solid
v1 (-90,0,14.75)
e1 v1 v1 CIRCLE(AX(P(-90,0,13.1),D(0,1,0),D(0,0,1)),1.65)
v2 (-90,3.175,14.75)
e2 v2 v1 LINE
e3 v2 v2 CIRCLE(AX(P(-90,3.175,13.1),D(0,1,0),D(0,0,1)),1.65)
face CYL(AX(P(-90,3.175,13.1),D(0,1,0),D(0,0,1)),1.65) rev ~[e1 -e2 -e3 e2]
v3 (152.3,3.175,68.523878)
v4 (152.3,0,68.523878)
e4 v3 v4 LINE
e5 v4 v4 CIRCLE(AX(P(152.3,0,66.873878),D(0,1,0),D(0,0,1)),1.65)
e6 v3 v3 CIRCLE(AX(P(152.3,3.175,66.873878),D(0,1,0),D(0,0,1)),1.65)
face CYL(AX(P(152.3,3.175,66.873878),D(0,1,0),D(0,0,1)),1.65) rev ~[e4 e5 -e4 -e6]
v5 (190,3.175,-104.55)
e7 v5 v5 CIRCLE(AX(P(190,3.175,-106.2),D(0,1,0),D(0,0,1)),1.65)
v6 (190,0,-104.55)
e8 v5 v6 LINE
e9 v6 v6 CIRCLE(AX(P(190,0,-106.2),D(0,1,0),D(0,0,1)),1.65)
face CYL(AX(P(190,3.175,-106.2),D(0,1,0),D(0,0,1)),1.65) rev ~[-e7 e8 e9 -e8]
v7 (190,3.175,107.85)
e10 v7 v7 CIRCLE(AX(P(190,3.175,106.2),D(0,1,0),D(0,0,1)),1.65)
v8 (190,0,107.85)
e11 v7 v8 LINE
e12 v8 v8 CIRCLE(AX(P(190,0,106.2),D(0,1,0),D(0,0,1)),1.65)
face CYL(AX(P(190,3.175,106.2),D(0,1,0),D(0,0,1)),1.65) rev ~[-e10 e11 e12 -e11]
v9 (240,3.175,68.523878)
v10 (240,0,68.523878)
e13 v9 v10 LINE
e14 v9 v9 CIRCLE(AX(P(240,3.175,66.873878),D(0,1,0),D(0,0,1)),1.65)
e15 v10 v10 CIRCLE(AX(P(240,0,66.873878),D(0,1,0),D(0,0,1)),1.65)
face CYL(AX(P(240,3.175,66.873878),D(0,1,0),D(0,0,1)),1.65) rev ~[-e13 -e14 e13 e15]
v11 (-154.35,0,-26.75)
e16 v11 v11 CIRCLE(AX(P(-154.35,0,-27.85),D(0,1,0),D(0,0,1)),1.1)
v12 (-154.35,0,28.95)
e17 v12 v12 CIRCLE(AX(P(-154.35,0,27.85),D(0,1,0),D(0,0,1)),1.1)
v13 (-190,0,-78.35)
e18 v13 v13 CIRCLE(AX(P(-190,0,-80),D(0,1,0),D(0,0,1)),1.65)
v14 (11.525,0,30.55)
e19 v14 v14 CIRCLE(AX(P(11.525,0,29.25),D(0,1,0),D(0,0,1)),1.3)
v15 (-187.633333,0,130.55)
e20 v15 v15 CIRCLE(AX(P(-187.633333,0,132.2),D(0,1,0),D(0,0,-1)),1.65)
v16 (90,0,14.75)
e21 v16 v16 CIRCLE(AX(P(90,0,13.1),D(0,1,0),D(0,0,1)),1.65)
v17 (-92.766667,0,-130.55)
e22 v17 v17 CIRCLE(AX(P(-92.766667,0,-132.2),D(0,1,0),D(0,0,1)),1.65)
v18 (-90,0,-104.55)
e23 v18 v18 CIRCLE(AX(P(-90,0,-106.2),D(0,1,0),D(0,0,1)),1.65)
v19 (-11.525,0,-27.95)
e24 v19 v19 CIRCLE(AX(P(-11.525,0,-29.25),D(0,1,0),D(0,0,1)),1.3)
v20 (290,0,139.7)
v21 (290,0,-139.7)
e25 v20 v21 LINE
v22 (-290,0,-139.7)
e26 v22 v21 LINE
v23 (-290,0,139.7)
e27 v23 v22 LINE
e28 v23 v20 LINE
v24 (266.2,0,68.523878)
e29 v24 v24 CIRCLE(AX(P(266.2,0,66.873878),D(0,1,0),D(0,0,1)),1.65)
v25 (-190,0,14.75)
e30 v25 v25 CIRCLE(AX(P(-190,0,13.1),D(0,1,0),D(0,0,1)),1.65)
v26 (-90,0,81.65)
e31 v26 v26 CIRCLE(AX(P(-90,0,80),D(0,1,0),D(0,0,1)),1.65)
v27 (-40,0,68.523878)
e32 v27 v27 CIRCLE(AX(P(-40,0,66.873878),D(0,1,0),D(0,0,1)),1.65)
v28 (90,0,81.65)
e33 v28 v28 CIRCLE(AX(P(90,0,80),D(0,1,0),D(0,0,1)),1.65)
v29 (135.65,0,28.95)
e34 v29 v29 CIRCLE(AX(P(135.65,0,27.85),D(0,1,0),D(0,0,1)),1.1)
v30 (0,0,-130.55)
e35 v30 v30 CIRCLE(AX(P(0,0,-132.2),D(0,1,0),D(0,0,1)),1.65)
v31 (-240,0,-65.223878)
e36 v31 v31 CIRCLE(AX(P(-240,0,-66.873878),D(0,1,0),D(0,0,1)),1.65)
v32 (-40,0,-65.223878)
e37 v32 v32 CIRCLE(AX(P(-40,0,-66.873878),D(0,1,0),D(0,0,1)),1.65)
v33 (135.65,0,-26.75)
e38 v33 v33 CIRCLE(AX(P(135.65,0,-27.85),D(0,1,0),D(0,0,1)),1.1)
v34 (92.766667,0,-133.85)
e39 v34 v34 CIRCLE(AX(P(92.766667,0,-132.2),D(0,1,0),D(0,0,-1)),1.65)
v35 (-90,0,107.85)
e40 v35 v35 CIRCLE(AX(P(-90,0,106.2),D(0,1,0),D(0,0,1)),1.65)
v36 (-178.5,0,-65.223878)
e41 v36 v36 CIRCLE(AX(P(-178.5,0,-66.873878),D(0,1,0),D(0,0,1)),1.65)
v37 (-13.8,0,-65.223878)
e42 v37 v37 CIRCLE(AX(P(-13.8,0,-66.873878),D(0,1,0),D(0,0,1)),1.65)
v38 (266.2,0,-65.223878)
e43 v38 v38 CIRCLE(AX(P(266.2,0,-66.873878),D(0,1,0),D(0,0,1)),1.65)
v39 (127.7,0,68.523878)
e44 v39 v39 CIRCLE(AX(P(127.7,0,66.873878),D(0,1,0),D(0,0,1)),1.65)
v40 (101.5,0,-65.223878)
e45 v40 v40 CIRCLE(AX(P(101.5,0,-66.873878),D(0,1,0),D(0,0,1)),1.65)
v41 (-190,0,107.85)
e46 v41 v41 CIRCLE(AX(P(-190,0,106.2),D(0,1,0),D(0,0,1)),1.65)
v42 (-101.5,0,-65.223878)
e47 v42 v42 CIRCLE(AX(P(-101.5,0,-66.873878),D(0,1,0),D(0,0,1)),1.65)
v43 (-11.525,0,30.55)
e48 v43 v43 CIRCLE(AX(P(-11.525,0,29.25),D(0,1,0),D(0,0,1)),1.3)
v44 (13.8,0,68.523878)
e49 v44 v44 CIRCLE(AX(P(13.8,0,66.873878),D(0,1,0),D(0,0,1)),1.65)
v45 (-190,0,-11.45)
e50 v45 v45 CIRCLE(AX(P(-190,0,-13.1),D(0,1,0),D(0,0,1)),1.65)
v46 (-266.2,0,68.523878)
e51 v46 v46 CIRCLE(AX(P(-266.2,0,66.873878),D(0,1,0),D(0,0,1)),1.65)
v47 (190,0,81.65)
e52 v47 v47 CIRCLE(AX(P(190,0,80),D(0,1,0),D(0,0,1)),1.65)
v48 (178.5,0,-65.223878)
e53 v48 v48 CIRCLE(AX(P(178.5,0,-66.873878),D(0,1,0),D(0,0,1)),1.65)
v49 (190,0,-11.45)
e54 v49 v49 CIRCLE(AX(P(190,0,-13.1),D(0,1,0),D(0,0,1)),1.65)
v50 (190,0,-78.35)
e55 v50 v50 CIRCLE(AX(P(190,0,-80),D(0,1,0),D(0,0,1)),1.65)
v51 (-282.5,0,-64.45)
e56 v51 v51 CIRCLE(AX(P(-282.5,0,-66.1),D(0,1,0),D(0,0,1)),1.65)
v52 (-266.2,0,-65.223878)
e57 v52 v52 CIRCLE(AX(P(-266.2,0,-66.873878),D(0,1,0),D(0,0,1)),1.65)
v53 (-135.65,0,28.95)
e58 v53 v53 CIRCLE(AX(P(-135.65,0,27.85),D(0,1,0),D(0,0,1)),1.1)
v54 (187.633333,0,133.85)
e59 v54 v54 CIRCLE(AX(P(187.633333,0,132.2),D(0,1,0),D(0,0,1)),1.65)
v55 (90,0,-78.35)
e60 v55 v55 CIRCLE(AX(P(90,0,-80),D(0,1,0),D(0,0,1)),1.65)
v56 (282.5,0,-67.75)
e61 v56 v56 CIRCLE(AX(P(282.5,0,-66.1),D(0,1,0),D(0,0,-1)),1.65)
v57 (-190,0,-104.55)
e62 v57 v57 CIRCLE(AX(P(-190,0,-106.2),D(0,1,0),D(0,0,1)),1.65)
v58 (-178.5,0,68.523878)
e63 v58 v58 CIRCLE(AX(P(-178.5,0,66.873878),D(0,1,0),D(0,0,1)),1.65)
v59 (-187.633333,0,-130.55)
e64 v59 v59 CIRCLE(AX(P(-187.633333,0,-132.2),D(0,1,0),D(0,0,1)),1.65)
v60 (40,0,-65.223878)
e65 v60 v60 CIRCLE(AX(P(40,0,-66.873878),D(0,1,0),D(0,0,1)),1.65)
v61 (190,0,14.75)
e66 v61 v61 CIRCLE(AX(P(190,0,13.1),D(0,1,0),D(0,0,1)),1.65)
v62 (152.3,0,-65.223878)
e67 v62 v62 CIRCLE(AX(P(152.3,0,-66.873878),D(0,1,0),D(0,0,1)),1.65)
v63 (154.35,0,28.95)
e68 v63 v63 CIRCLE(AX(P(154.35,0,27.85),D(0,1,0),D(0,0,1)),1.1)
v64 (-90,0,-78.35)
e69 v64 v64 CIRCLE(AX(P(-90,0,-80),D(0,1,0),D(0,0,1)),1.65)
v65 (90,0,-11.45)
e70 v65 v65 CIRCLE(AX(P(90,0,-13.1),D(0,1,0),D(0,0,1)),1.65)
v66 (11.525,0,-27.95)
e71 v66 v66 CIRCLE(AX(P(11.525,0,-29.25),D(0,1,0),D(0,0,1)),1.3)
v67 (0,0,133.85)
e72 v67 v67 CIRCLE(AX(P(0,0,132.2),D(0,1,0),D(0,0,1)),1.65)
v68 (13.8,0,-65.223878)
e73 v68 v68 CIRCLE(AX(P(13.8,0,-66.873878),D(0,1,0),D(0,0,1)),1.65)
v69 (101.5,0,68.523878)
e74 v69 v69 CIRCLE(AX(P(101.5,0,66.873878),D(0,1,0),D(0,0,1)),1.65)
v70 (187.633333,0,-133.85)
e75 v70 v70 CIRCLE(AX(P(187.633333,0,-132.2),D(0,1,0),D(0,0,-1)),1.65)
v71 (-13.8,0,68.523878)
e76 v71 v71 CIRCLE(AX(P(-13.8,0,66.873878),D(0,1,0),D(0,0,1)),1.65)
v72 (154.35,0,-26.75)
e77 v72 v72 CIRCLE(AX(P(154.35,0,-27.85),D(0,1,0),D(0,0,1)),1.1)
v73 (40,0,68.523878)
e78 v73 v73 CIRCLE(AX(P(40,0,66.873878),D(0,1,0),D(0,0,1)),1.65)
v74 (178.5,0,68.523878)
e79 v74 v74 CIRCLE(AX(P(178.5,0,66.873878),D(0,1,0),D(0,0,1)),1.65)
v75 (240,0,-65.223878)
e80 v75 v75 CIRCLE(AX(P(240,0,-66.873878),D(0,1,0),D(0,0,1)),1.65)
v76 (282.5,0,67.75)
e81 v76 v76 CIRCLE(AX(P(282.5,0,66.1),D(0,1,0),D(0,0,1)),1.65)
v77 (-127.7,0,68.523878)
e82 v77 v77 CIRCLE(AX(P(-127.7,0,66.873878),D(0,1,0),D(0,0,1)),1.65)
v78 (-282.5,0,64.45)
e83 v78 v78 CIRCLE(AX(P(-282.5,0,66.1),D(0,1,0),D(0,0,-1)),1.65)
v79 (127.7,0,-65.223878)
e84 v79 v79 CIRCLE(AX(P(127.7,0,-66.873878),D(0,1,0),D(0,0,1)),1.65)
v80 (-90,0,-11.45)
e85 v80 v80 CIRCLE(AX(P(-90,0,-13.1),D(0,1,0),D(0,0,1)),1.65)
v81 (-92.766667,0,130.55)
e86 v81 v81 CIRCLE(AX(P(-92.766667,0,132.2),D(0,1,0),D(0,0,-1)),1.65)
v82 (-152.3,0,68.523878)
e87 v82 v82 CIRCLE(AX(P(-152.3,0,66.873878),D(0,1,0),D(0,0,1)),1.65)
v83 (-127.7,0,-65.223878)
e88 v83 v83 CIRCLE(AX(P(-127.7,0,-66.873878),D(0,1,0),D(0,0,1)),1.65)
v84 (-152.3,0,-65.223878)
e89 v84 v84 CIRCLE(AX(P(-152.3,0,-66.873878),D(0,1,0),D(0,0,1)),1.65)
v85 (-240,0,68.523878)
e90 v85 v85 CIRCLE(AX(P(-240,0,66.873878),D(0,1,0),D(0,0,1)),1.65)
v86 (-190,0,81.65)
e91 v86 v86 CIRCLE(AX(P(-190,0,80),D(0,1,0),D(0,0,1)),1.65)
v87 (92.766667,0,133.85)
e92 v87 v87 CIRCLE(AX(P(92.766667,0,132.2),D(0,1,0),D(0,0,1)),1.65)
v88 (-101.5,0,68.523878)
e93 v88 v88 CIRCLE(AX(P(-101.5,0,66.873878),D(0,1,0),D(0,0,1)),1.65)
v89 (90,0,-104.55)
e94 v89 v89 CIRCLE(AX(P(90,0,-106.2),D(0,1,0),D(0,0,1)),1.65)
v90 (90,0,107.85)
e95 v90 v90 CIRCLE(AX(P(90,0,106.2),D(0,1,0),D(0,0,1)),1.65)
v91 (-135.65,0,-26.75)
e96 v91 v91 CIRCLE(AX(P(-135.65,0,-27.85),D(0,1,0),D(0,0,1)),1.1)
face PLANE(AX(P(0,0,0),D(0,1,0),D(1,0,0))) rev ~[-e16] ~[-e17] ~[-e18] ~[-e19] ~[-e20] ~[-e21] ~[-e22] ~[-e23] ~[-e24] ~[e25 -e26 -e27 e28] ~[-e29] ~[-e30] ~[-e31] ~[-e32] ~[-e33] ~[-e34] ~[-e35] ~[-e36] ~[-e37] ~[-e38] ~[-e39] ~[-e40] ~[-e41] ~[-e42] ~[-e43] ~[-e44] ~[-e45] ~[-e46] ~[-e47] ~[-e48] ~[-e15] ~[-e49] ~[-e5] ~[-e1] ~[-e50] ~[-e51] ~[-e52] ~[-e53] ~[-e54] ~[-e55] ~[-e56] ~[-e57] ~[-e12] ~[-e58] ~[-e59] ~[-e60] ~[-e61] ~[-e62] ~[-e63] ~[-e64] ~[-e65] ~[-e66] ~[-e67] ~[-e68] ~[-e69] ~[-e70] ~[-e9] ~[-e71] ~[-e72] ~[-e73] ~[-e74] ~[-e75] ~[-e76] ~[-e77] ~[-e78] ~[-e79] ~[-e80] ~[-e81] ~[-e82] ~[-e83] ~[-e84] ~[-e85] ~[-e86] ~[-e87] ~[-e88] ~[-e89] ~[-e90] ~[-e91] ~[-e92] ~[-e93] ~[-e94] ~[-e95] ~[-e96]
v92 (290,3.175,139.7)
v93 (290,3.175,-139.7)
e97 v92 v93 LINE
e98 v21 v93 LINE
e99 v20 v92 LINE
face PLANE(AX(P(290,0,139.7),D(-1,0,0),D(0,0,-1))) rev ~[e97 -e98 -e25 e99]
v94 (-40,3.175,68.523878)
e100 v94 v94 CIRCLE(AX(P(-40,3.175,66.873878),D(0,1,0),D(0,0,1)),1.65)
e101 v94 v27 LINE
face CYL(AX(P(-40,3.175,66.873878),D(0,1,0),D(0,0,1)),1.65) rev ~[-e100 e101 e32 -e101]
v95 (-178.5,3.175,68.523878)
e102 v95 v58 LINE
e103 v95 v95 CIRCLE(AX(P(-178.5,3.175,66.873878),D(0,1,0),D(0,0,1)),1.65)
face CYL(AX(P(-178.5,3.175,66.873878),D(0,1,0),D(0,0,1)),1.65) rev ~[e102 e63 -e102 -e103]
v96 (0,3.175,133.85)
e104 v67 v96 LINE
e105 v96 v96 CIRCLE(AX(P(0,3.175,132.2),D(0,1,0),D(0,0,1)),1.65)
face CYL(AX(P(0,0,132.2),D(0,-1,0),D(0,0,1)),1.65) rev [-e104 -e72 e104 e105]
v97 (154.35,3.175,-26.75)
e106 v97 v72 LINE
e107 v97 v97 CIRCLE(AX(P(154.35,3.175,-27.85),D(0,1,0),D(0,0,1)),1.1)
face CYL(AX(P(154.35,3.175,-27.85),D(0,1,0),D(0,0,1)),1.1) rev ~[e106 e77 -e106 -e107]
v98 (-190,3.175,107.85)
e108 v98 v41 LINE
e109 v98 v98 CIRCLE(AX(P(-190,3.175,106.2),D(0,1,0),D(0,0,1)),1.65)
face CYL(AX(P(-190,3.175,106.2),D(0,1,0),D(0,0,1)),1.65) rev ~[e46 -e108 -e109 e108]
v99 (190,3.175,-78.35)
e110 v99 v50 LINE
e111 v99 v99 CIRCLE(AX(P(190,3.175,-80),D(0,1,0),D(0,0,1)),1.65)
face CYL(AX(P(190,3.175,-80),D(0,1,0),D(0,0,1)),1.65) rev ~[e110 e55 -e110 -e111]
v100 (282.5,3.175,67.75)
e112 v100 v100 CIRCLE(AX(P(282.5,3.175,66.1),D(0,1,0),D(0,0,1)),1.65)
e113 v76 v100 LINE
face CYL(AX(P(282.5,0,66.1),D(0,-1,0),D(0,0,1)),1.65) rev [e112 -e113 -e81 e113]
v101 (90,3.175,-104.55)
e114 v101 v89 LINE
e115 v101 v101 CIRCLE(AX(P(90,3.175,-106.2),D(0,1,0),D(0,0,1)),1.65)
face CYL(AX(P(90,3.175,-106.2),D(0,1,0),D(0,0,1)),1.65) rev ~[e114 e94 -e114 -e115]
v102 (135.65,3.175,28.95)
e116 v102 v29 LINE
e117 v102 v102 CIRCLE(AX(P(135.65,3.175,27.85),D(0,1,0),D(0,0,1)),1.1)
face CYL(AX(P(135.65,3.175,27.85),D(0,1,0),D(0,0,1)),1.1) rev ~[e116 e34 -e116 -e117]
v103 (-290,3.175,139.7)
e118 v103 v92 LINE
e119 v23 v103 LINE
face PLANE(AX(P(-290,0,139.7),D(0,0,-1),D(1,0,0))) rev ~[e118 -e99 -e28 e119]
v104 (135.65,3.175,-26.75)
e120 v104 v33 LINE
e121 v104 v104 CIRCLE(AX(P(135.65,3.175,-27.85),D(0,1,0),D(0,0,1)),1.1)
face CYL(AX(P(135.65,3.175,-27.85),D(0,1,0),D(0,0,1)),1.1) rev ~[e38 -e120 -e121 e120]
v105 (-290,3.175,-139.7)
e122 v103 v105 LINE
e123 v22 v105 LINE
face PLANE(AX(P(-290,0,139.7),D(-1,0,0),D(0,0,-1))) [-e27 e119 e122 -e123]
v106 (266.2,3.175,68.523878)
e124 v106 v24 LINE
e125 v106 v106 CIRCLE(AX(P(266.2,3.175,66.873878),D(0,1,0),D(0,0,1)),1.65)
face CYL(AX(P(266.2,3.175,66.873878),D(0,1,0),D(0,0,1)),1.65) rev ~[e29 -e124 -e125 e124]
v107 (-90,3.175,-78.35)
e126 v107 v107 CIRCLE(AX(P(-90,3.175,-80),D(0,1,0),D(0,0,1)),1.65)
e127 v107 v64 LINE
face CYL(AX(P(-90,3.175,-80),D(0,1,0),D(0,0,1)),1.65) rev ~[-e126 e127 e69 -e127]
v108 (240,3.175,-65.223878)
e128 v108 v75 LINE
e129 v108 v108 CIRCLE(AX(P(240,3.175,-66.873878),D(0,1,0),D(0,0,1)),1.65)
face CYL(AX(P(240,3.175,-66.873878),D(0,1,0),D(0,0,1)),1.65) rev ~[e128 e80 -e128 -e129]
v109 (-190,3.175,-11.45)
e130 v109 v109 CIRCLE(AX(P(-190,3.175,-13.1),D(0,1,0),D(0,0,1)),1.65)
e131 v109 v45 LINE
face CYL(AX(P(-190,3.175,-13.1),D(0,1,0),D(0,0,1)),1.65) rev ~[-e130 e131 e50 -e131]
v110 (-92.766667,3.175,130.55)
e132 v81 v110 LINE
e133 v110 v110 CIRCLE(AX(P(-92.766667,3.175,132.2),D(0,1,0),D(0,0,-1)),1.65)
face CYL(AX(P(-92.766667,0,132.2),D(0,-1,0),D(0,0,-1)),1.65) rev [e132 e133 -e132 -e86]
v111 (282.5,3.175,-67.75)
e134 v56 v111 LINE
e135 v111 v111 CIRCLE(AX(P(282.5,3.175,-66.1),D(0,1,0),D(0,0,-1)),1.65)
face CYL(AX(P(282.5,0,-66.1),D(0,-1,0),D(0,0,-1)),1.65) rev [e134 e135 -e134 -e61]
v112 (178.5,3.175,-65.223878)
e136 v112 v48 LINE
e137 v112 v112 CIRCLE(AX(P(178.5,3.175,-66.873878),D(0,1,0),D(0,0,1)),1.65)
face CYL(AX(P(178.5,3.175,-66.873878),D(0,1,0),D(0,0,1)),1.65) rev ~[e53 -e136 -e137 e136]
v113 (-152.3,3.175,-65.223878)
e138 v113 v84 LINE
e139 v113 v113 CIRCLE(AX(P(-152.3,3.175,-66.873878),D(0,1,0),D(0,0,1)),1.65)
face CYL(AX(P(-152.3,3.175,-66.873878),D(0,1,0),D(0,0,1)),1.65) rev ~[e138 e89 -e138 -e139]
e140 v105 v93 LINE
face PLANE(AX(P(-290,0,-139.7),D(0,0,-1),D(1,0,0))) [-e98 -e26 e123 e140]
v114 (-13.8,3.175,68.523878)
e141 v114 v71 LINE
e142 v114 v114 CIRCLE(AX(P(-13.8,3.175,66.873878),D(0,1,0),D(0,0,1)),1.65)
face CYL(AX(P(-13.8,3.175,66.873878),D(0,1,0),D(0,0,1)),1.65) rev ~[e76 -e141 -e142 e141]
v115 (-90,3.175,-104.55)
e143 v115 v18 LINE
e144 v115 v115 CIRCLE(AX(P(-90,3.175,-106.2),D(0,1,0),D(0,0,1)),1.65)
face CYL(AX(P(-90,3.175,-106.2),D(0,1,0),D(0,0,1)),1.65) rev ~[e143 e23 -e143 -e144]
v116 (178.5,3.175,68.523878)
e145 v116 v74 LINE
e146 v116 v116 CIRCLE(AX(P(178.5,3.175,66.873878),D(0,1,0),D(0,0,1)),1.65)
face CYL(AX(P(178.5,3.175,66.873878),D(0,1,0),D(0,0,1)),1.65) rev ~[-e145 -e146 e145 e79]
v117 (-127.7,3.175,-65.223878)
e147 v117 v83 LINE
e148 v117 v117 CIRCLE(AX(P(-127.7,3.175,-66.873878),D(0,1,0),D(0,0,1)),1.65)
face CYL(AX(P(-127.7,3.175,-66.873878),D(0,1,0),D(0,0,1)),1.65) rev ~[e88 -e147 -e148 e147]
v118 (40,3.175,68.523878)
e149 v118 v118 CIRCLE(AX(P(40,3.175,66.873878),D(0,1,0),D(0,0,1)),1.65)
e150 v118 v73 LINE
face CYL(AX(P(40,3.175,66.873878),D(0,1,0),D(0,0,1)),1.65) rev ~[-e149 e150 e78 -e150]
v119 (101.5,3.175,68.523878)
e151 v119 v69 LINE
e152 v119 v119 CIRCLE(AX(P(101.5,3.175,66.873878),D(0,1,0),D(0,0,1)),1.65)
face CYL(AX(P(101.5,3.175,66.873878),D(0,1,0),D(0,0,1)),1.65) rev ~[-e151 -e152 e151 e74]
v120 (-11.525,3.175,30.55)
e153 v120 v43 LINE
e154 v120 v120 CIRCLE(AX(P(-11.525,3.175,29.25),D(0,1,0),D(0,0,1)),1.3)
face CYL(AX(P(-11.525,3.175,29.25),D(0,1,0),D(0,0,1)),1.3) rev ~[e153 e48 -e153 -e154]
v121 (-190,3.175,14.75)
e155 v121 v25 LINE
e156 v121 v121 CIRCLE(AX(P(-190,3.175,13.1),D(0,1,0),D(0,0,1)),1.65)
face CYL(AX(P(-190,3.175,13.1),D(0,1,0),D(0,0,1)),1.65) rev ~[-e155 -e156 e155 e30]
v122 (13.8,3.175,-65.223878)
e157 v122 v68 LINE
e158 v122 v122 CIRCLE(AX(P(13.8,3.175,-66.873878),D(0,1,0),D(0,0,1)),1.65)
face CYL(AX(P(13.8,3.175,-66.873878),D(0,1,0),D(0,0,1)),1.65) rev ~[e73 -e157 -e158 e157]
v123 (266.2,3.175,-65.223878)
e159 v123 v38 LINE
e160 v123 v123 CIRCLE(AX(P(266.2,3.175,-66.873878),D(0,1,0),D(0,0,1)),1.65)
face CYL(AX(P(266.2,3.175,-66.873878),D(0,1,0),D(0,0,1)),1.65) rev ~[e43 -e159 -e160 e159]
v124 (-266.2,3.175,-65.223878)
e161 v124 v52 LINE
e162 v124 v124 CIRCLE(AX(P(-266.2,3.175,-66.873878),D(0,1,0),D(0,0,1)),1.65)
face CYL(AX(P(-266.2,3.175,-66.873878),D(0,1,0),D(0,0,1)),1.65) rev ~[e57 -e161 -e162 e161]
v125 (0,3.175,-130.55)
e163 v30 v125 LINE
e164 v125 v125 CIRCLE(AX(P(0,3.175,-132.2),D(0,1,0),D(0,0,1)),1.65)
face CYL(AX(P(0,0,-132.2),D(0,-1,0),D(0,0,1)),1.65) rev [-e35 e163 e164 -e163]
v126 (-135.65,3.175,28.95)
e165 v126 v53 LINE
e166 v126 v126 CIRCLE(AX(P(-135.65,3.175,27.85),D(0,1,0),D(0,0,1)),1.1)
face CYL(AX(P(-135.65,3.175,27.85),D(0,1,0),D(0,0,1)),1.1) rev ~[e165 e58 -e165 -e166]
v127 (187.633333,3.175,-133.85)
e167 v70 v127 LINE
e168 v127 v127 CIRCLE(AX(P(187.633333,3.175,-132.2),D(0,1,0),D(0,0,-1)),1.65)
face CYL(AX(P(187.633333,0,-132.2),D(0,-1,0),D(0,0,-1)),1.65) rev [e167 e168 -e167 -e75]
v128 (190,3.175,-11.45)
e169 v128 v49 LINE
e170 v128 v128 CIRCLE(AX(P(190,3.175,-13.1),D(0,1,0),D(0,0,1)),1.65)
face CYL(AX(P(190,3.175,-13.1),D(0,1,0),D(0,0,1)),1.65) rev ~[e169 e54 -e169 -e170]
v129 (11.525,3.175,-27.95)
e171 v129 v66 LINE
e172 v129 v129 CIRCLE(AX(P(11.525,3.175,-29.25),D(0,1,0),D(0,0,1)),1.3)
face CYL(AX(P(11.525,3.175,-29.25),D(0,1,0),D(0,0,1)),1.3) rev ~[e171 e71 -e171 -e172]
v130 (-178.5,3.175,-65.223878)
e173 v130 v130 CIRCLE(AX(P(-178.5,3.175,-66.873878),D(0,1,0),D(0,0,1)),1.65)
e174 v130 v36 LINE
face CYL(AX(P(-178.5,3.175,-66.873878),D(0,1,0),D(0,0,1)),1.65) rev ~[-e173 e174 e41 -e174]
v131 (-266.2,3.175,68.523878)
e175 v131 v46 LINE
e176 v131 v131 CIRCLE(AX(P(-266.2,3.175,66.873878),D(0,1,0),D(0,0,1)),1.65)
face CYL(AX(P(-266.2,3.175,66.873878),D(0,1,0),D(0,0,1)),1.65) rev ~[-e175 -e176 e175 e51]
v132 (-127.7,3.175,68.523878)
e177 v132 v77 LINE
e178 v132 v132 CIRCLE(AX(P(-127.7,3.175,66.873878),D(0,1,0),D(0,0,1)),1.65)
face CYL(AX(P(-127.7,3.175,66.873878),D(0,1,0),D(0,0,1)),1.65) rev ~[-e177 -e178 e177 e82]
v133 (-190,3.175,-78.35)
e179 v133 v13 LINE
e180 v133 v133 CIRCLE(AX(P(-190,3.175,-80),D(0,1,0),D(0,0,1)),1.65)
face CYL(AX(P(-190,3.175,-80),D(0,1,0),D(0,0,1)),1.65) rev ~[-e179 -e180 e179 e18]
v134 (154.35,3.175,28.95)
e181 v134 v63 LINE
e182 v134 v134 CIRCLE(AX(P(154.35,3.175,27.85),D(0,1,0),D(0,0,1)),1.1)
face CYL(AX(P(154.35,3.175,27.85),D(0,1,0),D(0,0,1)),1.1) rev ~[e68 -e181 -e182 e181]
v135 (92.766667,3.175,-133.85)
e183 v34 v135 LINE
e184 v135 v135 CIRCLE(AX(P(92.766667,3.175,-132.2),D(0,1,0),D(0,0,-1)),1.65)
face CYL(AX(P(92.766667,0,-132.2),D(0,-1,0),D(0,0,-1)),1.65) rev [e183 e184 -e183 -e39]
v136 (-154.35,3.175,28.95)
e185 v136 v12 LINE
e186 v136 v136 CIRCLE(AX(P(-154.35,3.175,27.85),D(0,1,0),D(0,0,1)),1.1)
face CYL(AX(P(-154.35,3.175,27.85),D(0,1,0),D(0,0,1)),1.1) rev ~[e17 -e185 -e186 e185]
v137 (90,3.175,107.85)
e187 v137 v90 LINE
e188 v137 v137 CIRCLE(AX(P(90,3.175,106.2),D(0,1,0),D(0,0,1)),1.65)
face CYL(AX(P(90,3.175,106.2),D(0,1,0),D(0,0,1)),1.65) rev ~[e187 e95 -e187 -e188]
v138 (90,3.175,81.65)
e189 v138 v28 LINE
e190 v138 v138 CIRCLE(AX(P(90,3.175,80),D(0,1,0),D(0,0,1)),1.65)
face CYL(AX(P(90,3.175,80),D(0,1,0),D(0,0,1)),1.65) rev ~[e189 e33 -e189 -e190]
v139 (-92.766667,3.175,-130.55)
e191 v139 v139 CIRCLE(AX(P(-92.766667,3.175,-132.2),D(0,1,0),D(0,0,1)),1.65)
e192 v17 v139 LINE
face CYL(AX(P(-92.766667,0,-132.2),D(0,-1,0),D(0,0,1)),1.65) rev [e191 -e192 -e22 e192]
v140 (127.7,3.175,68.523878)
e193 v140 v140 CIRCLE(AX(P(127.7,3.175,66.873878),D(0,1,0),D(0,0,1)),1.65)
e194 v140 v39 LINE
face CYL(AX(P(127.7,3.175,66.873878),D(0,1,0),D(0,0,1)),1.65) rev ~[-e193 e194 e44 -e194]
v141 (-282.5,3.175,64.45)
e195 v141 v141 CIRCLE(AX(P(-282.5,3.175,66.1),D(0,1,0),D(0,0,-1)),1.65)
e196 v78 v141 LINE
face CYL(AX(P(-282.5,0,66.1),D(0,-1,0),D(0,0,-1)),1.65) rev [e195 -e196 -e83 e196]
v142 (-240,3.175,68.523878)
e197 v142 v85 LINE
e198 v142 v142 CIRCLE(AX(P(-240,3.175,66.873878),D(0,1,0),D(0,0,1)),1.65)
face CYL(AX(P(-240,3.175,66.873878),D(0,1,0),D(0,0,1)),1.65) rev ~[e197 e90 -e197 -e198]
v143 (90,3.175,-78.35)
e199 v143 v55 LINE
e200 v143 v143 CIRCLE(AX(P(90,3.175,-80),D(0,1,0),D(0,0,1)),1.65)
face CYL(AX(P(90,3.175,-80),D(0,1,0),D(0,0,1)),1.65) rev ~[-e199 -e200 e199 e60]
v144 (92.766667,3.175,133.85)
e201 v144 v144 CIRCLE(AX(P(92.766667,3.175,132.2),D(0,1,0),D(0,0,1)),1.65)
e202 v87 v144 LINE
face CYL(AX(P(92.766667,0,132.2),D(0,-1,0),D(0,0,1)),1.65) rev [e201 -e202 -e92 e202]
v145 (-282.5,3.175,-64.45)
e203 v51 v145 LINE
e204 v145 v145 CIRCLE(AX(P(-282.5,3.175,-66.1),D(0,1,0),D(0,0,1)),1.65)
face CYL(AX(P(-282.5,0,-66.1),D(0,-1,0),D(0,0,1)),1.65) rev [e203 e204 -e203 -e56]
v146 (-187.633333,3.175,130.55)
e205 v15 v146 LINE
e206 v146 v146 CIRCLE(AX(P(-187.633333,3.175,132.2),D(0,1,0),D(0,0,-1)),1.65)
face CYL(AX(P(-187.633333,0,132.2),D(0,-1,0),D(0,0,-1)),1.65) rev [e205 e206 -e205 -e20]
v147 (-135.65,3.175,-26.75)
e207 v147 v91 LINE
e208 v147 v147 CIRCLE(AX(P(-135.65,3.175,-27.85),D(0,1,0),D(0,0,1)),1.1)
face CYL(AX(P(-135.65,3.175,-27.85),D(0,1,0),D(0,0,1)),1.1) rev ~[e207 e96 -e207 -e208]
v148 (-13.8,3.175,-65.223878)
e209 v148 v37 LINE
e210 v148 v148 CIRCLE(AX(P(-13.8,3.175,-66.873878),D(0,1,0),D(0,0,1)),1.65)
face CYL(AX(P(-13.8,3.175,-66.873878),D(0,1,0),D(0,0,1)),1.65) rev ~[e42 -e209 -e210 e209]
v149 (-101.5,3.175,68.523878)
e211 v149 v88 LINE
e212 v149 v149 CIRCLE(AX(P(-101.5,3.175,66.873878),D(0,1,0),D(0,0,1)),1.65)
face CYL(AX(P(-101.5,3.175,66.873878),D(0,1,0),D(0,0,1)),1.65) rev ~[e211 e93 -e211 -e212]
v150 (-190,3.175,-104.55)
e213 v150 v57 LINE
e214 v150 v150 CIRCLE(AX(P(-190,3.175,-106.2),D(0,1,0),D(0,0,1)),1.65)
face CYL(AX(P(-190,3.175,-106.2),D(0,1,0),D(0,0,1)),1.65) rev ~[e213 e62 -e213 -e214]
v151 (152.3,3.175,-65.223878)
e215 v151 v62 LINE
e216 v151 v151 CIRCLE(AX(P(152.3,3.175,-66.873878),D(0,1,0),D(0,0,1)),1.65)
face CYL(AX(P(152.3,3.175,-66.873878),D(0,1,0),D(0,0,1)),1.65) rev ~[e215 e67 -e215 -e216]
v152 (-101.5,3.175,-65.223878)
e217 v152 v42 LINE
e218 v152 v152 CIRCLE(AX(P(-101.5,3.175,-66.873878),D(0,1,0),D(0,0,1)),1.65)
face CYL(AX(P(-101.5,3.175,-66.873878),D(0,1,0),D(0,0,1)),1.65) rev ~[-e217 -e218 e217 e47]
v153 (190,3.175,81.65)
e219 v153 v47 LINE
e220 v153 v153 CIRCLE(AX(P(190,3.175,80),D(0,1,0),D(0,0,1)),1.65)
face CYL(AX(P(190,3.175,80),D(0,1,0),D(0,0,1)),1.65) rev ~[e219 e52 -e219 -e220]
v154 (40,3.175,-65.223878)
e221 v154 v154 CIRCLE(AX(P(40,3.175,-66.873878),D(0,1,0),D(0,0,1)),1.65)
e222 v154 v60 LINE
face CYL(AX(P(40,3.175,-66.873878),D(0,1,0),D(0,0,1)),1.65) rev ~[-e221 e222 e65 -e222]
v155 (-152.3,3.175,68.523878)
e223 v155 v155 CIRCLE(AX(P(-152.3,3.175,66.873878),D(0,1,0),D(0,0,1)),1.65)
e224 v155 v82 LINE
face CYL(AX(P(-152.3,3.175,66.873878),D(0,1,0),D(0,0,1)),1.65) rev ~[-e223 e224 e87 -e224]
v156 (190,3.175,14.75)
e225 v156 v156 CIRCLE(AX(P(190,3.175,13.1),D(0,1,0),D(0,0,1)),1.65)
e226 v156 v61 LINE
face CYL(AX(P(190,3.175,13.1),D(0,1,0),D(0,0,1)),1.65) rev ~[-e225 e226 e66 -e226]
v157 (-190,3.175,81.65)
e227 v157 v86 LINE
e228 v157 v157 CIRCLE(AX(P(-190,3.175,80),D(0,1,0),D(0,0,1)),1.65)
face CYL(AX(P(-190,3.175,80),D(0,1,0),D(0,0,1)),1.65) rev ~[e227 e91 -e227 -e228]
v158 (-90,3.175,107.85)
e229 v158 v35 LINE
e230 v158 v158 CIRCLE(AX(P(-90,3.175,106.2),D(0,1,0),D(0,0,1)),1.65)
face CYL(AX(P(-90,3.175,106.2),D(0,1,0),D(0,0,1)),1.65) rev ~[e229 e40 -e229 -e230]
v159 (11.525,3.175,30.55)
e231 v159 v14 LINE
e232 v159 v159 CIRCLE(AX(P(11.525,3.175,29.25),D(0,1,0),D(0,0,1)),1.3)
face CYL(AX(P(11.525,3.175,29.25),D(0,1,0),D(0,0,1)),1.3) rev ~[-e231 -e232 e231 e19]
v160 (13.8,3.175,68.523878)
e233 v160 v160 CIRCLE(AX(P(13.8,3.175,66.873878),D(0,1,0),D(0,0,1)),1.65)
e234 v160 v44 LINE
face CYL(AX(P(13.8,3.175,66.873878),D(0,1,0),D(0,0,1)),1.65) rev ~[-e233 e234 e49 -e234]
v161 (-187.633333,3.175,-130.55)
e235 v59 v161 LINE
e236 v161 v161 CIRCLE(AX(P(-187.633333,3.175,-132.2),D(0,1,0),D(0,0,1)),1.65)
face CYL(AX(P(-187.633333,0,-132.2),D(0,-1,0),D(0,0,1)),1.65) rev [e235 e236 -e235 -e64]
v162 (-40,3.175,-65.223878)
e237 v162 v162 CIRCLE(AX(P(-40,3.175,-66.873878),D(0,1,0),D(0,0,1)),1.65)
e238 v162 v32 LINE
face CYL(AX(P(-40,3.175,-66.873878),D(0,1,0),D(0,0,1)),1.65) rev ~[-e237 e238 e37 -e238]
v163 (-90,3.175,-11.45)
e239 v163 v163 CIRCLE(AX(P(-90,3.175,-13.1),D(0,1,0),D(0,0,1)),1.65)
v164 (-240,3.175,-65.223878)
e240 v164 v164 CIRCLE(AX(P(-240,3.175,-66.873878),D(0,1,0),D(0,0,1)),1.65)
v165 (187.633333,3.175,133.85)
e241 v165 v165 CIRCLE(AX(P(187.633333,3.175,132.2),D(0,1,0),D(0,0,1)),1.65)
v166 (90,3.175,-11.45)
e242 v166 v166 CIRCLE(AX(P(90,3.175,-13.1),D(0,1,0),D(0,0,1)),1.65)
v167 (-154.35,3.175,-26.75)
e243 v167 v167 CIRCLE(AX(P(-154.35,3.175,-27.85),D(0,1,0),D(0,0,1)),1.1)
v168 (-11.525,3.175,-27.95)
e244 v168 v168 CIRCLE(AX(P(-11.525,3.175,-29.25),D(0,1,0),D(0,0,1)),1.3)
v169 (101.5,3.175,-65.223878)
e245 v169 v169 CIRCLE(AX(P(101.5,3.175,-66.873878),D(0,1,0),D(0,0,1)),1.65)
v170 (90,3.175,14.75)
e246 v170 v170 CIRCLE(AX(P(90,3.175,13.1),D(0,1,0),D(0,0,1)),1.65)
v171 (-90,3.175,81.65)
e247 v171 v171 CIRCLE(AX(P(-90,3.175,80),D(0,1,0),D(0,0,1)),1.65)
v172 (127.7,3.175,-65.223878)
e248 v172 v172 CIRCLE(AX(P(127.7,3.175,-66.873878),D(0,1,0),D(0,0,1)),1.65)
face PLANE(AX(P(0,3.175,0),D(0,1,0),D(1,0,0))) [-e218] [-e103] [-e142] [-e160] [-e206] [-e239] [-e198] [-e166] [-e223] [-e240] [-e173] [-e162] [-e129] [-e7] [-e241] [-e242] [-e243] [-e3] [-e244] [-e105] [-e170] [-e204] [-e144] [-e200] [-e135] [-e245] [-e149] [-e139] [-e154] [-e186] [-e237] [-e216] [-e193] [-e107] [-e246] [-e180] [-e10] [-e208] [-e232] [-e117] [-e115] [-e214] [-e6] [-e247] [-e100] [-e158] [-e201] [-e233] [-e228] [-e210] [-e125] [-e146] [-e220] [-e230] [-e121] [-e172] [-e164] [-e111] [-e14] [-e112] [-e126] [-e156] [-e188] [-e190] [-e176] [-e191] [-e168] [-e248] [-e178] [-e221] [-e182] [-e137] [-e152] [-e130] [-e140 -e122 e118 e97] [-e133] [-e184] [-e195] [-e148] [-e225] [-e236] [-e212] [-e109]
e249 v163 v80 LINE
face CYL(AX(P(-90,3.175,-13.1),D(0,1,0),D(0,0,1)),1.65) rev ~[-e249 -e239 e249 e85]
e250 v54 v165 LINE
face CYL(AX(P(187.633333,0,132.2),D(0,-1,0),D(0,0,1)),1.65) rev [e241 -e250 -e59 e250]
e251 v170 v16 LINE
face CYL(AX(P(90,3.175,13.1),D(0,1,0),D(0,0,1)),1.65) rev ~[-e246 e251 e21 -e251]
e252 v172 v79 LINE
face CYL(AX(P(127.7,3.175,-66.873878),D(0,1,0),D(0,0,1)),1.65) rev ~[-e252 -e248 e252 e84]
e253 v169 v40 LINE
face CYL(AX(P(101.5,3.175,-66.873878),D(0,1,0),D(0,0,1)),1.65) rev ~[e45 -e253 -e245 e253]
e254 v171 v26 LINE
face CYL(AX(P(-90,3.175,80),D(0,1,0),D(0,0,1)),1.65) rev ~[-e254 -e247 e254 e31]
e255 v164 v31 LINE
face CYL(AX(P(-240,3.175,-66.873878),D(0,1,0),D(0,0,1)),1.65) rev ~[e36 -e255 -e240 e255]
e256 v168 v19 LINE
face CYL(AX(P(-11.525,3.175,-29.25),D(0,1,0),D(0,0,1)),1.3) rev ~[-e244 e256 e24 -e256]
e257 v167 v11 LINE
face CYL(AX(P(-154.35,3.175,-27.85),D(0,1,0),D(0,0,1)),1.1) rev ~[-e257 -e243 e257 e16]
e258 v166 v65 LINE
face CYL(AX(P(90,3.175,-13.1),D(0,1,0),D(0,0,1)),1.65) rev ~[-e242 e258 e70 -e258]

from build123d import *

# Parameters (mm, degrees)
SKETCH1_W           = 580
SKETCH1_H           = 279.4
SKETCH1_R           = 1.65
BOSS_EXTRUDE1_DEPTH = 3.175
SKETCH2_R           = 1.65
CUT_EXTRUDE1_DEPTH  = 3.175
SKETCH3_R           = 1.3
SKETCH3_R_2         = 1.1
CUT_EXTRUDE2_DEPTH  = 3.175


with BuildPart() as part:
    # Sketch1 → Boss-Extrude1 (new body)
    with BuildSketch(Plane(origin=(0, 0, 0), x_dir=(1, 0, 0), z_dir=(0, 1, 0))):
        Rectangle(SKETCH1_W, SKETCH1_H)
        with Locations(Location((-282.5, 66.1, 0), (0, 0, 270))):
            Circle(SKETCH1_R, mode=Mode.SUBTRACT)
        with Locations(Location((-187.633333333, 132.2, 0), (0, 0, 270))):
            Circle(SKETCH1_R, mode=Mode.SUBTRACT)
        with Locations(Location((-92.766666667, 132.2, 0), (0, 0, 270))):
            Circle(SKETCH1_R, mode=Mode.SUBTRACT)
        with Locations(Location((-282.5, -66.1, 0), (0, 0, 90))):
            Circle(SKETCH1_R, mode=Mode.SUBTRACT)
        with Locations(Location((-92.766666667, -132.2, 0), (0, 0, 90))):
            Circle(SKETCH1_R, mode=Mode.SUBTRACT)
        with Locations(Location((-187.633333333, -132.2, 0), (0, 0, 90))):
            Circle(SKETCH1_R, mode=Mode.SUBTRACT)
        with Locations(Location((187.633333333, -132.2, 0), (0, 0, 270))):
            Circle(SKETCH1_R, mode=Mode.SUBTRACT)
        with Locations(Location((92.766666667, -132.2, 0), (0, 0, 270))):
            Circle(SKETCH1_R, mode=Mode.SUBTRACT)
        with Locations(Location((92.766666667, 132.2, 0), (0, 0, 90))):
            Circle(SKETCH1_R, mode=Mode.SUBTRACT)
        with Locations(Location((187.633333333, 132.2, 0), (0, 0, 90))):
            Circle(SKETCH1_R, mode=Mode.SUBTRACT)
        with Locations(Location((282.5, -66.1, 0), (0, 0, 270))):
            Circle(SKETCH1_R, mode=Mode.SUBTRACT)
        with Locations(Location((282.5, 66.1, 0), (0, 0, 90))):
            Circle(SKETCH1_R, mode=Mode.SUBTRACT)
        with Locations(Location((0, 132.2, 0), (0, 0, 270))):
            Circle(SKETCH1_R, mode=Mode.SUBTRACT)
        with Locations(Location((0, -132.2, 0), (0, 0, 270))):
            Circle(SKETCH1_R, mode=Mode.SUBTRACT)
    extrude(amount=BOSS_EXTRUDE1_DEPTH)

    # Sketch2 → Cut-Extrude1 (cut)
    with BuildSketch(Plane(origin=(0, 3.175, 0), x_dir=(1, 0, 0), z_dir=(0, 1, 0))):
        with Locations(Location((-190, 13.1, 0), (0, 0, 270))):
            Circle(SKETCH2_R)
        with Locations(Location((-266.2, 66.873878157, 0), (0, 0, 270))):
            Circle(SKETCH2_R)
        with Locations(Location((-240, 66.873878157, 0), (0, 0, 270))):
            Circle(SKETCH2_R)
        with Locations(Location((-178.5, 66.873878157, 0), (0, 0, 270))):
            Circle(SKETCH2_R)
        with Locations(Location((-152.3, 66.873878157, 0), (0, 0, 270))):
            Circle(SKETCH2_R)
        with Locations(Location((-190, 106.2, 0), (0, 0, 270))):
            Circle(SKETCH2_R)
        with Locations(Location((-190, 80, 0), (0, 0, 270))):
            Circle(SKETCH2_R)
        with Locations(Location((-190, -80, 0), (0, 0, 270))):
            Circle(SKETCH2_R)
        with Locations(Location((-190, -106.2, 0), (0, 0, 270))):
            Circle(SKETCH2_R)
        with Locations(Location((-152.3, -66.873878157, 0), (0, 0, 270))):
            Circle(SKETCH2_R)
        with Locations(Location((-178.5, -66.873878157, 0), (0, 0, 270))):
            Circle(SKETCH2_R)
        with Locations(Location((-240, -66.873878157, 0), (0, 0, 270))):
            Circle(SKETCH2_R)
        with Locations(Location((-266.2, -66.873878157, 0), (0, 0, 270))):
            Circle(SKETCH2_R)
        with Locations(Location((-190, -13.1, 0), (0, 0, 270))):
            Circle(SKETCH2_R)
        with Locations(Location((-90, -13.1, 0), (0, 0, 270))):
            Circle(SKETCH2_R)
        with Locations(Location((-13.8, -66.873878157, 0), (0, 0, 270))):
            Circle(SKETCH2_R)
        with Locations(Location((-40, -66.873878157, 0), (0, 0, 270))):
            Circle(SKETCH2_R)
        with Locations(Location((-101.5, -66.873878157, 0), (0, 0, 270))):
            Circle(SKETCH2_R)
        with Locations(Location((-127.7, -66.873878157, 0), (0, 0, 270))):
            Circle(SKETCH2_R)
        with Locations(Location((-90, -106.2, 0), (0, 0, 270))):
            Circle(SKETCH2_R)
        with Locations(Location((-90, -80, 0), (0, 0, 270))):
            Circle(SKETCH2_R)
        with Locations(Location((-90, 80, 0), (0, 0, 270))):
            Circle(SKETCH2_R)
        with Locations(Location((-90, 106.2, 0), (0, 0, 270))):
            Circle(SKETCH2_R)
        with Locations(Location((-127.7, 66.873878157, 0), (0, 0, 270))):
            Circle(SKETCH2_R)
        with Locations(Location((-101.5, 66.873878157, 0), (0, 0, 270))):
            Circle(SKETCH2_R)
        with Locations(Location((-40, 66.873878157, 0), (0, 0, 270))):
            Circle(SKETCH2_R)
        with Locations(Location((-13.8, 66.873878157, 0), (0, 0, 270))):
            Circle(SKETCH2_R)
        with Locations(Location((-90, 13.1, 0), (0, 0, 270))):
            Circle(SKETCH2_R)
        with Locations(Location((90, 13.1, 0), (0, 0, 270))):
            Circle(SKETCH2_R)
        with Locations(Location((13.8, 66.873878157, 0), (0, 0, 270))):
            Circle(SKETCH2_R)
        with Locations(Location((40, 66.873878157, 0), (0, 0, 270))):
            Circle(SKETCH2_R)
        with Locations(Location((101.5, 66.873878157, 0), (0, 0, 270))):
            Circle(SKETCH2_R)
        with Locations(Location((127.7, 66.873878157, 0), (0, 0, 270))):
            Circle(SKETCH2_R)
        with Locations(Location((90, 106.2, 0), (0, 0, 270))):
            Circle(SKETCH2_R)
        with Locations(Location((90, 80, 0), (0, 0, 270))):
            Circle(SKETCH2_R)
        with Locations(Location((90, -80, 0), (0, 0, 270))):
            Circle(SKETCH2_R)
        with Locations(Location((90, -106.2, 0), (0, 0, 270))):
            Circle(SKETCH2_R)
        with Locations(Location((127.7, -66.873878157, 0), (0, 0, 270))):
            Circle(SKETCH2_R)
        with Locations(Location((101.5, -66.873878157, 0), (0, 0, 270))):
            Circle(SKETCH2_R)
        with Locations(Location((40, -66.873878157, 0), (0, 0, 270))):
            Circle(SKETCH2_R)
        with Locations(Location((13.8, -66.873878157, 0), (0, 0, 270))):
            Circle(SKETCH2_R)
        with Locations(Location((90, -13.1, 0), (0, 0, 270))):
            Circle(SKETCH2_R)
        with Locations(Location((190, -13.1, 0), (0, 0, 270))):
            Circle(SKETCH2_R)
        with Locations(Location((266.2, -66.873878157, 0), (0, 0, 270))):
            Circle(SKETCH2_R)
        with Locations(Location((240, -66.873878157, 0), (0, 0, 270))):
            Circle(SKETCH2_R)
        with Locations(Location((178.5, -66.873878157, 0), (0, 0, 270))):
            Circle(SKETCH2_R)
        with Locations(Location((152.3, -66.873878157, 0), (0, 0, 270))):
            Circle(SKETCH2_R)
        with Locations(Location((190, -106.2, 0), (0, 0, 270))):
            Circle(SKETCH2_R)
        with Locations(Location((190, -80, 0), (0, 0, 270))):
            Circle(SKETCH2_R)
        with Locations(Location((190, 80, 0), (0, 0, 270))):
            Circle(SKETCH2_R)
        with Locations(Location((190, 106.2, 0), (0, 0, 270))):
            Circle(SKETCH2_R)
        with Locations(Location((152.3, 66.873878157, 0), (0, 0, 270))):
            Circle(SKETCH2_R)
        with Locations(Location((178.5, 66.873878157, 0), (0, 0, 270))):
            Circle(SKETCH2_R)
        with Locations(Location((240, 66.873878157, 0), (0, 0, 270))):
            Circle(SKETCH2_R)
        with Locations(Location((266.2, 66.873878157, 0), (0, 0, 270))):
            Circle(SKETCH2_R)
        with Locations(Location((190, 13.1, 0), (0, 0, 270))):
            Circle(SKETCH2_R)
    extrude(amount=-CUT_EXTRUDE1_DEPTH, mode=Mode.SUBTRACT)

    # Sketch3 → Cut-Extrude2 (cut)
    with BuildSketch(Plane(origin=(0, 3.175, 0), x_dir=(1, 0, 0), z_dir=(0, 1, 0))):
        with Locations(Location((-11.525, 29.25, 0), (0, 0, 270))):
            Circle(SKETCH3_R)
        with Locations(Location((11.525, 29.25, 0), (0, 0, 270))):
            Circle(SKETCH3_R)
        with Locations(Location((11.525, -29.25, 0), (0, 0, 270))):
            Circle(SKETCH3_R)
        with Locations(Location((-11.525, -29.25, 0), (0, 0, 270))):
            Circle(SKETCH3_R)
        with Locations(Location((-154.35, 27.85, 0), (0, 0, 270))):
            Circle(SKETCH3_R_2)
        with Locations(Location((-135.65, 27.85, 0), (0, 0, 270))):
            Circle(SKETCH3_R_2)
        with Locations(Location((-135.65, -27.85, 0), (0, 0, 270))):
            Circle(SKETCH3_R_2)
        with Locations(Location((-154.35, -27.85, 0), (0, 0, 270))):
            Circle(SKETCH3_R_2)
        with Locations(Location((154.35, -27.85, 0), (0, 0, 270))):
            Circle(SKETCH3_R_2)
        with Locations(Location((135.65, -27.85, 0), (0, 0, 270))):
            Circle(SKETCH3_R_2)
        with Locations(Location((135.65, 27.85, 0), (0, 0, 270))):
            Circle(SKETCH3_R_2)
        with Locations(Location((154.35, 27.85, 0), (0, 0, 270))):
            Circle(SKETCH3_R_2)
    extrude(amount=-CUT_EXTRUDE2_DEPTH, mode=Mode.SUBTRACT)


solid = part.part
